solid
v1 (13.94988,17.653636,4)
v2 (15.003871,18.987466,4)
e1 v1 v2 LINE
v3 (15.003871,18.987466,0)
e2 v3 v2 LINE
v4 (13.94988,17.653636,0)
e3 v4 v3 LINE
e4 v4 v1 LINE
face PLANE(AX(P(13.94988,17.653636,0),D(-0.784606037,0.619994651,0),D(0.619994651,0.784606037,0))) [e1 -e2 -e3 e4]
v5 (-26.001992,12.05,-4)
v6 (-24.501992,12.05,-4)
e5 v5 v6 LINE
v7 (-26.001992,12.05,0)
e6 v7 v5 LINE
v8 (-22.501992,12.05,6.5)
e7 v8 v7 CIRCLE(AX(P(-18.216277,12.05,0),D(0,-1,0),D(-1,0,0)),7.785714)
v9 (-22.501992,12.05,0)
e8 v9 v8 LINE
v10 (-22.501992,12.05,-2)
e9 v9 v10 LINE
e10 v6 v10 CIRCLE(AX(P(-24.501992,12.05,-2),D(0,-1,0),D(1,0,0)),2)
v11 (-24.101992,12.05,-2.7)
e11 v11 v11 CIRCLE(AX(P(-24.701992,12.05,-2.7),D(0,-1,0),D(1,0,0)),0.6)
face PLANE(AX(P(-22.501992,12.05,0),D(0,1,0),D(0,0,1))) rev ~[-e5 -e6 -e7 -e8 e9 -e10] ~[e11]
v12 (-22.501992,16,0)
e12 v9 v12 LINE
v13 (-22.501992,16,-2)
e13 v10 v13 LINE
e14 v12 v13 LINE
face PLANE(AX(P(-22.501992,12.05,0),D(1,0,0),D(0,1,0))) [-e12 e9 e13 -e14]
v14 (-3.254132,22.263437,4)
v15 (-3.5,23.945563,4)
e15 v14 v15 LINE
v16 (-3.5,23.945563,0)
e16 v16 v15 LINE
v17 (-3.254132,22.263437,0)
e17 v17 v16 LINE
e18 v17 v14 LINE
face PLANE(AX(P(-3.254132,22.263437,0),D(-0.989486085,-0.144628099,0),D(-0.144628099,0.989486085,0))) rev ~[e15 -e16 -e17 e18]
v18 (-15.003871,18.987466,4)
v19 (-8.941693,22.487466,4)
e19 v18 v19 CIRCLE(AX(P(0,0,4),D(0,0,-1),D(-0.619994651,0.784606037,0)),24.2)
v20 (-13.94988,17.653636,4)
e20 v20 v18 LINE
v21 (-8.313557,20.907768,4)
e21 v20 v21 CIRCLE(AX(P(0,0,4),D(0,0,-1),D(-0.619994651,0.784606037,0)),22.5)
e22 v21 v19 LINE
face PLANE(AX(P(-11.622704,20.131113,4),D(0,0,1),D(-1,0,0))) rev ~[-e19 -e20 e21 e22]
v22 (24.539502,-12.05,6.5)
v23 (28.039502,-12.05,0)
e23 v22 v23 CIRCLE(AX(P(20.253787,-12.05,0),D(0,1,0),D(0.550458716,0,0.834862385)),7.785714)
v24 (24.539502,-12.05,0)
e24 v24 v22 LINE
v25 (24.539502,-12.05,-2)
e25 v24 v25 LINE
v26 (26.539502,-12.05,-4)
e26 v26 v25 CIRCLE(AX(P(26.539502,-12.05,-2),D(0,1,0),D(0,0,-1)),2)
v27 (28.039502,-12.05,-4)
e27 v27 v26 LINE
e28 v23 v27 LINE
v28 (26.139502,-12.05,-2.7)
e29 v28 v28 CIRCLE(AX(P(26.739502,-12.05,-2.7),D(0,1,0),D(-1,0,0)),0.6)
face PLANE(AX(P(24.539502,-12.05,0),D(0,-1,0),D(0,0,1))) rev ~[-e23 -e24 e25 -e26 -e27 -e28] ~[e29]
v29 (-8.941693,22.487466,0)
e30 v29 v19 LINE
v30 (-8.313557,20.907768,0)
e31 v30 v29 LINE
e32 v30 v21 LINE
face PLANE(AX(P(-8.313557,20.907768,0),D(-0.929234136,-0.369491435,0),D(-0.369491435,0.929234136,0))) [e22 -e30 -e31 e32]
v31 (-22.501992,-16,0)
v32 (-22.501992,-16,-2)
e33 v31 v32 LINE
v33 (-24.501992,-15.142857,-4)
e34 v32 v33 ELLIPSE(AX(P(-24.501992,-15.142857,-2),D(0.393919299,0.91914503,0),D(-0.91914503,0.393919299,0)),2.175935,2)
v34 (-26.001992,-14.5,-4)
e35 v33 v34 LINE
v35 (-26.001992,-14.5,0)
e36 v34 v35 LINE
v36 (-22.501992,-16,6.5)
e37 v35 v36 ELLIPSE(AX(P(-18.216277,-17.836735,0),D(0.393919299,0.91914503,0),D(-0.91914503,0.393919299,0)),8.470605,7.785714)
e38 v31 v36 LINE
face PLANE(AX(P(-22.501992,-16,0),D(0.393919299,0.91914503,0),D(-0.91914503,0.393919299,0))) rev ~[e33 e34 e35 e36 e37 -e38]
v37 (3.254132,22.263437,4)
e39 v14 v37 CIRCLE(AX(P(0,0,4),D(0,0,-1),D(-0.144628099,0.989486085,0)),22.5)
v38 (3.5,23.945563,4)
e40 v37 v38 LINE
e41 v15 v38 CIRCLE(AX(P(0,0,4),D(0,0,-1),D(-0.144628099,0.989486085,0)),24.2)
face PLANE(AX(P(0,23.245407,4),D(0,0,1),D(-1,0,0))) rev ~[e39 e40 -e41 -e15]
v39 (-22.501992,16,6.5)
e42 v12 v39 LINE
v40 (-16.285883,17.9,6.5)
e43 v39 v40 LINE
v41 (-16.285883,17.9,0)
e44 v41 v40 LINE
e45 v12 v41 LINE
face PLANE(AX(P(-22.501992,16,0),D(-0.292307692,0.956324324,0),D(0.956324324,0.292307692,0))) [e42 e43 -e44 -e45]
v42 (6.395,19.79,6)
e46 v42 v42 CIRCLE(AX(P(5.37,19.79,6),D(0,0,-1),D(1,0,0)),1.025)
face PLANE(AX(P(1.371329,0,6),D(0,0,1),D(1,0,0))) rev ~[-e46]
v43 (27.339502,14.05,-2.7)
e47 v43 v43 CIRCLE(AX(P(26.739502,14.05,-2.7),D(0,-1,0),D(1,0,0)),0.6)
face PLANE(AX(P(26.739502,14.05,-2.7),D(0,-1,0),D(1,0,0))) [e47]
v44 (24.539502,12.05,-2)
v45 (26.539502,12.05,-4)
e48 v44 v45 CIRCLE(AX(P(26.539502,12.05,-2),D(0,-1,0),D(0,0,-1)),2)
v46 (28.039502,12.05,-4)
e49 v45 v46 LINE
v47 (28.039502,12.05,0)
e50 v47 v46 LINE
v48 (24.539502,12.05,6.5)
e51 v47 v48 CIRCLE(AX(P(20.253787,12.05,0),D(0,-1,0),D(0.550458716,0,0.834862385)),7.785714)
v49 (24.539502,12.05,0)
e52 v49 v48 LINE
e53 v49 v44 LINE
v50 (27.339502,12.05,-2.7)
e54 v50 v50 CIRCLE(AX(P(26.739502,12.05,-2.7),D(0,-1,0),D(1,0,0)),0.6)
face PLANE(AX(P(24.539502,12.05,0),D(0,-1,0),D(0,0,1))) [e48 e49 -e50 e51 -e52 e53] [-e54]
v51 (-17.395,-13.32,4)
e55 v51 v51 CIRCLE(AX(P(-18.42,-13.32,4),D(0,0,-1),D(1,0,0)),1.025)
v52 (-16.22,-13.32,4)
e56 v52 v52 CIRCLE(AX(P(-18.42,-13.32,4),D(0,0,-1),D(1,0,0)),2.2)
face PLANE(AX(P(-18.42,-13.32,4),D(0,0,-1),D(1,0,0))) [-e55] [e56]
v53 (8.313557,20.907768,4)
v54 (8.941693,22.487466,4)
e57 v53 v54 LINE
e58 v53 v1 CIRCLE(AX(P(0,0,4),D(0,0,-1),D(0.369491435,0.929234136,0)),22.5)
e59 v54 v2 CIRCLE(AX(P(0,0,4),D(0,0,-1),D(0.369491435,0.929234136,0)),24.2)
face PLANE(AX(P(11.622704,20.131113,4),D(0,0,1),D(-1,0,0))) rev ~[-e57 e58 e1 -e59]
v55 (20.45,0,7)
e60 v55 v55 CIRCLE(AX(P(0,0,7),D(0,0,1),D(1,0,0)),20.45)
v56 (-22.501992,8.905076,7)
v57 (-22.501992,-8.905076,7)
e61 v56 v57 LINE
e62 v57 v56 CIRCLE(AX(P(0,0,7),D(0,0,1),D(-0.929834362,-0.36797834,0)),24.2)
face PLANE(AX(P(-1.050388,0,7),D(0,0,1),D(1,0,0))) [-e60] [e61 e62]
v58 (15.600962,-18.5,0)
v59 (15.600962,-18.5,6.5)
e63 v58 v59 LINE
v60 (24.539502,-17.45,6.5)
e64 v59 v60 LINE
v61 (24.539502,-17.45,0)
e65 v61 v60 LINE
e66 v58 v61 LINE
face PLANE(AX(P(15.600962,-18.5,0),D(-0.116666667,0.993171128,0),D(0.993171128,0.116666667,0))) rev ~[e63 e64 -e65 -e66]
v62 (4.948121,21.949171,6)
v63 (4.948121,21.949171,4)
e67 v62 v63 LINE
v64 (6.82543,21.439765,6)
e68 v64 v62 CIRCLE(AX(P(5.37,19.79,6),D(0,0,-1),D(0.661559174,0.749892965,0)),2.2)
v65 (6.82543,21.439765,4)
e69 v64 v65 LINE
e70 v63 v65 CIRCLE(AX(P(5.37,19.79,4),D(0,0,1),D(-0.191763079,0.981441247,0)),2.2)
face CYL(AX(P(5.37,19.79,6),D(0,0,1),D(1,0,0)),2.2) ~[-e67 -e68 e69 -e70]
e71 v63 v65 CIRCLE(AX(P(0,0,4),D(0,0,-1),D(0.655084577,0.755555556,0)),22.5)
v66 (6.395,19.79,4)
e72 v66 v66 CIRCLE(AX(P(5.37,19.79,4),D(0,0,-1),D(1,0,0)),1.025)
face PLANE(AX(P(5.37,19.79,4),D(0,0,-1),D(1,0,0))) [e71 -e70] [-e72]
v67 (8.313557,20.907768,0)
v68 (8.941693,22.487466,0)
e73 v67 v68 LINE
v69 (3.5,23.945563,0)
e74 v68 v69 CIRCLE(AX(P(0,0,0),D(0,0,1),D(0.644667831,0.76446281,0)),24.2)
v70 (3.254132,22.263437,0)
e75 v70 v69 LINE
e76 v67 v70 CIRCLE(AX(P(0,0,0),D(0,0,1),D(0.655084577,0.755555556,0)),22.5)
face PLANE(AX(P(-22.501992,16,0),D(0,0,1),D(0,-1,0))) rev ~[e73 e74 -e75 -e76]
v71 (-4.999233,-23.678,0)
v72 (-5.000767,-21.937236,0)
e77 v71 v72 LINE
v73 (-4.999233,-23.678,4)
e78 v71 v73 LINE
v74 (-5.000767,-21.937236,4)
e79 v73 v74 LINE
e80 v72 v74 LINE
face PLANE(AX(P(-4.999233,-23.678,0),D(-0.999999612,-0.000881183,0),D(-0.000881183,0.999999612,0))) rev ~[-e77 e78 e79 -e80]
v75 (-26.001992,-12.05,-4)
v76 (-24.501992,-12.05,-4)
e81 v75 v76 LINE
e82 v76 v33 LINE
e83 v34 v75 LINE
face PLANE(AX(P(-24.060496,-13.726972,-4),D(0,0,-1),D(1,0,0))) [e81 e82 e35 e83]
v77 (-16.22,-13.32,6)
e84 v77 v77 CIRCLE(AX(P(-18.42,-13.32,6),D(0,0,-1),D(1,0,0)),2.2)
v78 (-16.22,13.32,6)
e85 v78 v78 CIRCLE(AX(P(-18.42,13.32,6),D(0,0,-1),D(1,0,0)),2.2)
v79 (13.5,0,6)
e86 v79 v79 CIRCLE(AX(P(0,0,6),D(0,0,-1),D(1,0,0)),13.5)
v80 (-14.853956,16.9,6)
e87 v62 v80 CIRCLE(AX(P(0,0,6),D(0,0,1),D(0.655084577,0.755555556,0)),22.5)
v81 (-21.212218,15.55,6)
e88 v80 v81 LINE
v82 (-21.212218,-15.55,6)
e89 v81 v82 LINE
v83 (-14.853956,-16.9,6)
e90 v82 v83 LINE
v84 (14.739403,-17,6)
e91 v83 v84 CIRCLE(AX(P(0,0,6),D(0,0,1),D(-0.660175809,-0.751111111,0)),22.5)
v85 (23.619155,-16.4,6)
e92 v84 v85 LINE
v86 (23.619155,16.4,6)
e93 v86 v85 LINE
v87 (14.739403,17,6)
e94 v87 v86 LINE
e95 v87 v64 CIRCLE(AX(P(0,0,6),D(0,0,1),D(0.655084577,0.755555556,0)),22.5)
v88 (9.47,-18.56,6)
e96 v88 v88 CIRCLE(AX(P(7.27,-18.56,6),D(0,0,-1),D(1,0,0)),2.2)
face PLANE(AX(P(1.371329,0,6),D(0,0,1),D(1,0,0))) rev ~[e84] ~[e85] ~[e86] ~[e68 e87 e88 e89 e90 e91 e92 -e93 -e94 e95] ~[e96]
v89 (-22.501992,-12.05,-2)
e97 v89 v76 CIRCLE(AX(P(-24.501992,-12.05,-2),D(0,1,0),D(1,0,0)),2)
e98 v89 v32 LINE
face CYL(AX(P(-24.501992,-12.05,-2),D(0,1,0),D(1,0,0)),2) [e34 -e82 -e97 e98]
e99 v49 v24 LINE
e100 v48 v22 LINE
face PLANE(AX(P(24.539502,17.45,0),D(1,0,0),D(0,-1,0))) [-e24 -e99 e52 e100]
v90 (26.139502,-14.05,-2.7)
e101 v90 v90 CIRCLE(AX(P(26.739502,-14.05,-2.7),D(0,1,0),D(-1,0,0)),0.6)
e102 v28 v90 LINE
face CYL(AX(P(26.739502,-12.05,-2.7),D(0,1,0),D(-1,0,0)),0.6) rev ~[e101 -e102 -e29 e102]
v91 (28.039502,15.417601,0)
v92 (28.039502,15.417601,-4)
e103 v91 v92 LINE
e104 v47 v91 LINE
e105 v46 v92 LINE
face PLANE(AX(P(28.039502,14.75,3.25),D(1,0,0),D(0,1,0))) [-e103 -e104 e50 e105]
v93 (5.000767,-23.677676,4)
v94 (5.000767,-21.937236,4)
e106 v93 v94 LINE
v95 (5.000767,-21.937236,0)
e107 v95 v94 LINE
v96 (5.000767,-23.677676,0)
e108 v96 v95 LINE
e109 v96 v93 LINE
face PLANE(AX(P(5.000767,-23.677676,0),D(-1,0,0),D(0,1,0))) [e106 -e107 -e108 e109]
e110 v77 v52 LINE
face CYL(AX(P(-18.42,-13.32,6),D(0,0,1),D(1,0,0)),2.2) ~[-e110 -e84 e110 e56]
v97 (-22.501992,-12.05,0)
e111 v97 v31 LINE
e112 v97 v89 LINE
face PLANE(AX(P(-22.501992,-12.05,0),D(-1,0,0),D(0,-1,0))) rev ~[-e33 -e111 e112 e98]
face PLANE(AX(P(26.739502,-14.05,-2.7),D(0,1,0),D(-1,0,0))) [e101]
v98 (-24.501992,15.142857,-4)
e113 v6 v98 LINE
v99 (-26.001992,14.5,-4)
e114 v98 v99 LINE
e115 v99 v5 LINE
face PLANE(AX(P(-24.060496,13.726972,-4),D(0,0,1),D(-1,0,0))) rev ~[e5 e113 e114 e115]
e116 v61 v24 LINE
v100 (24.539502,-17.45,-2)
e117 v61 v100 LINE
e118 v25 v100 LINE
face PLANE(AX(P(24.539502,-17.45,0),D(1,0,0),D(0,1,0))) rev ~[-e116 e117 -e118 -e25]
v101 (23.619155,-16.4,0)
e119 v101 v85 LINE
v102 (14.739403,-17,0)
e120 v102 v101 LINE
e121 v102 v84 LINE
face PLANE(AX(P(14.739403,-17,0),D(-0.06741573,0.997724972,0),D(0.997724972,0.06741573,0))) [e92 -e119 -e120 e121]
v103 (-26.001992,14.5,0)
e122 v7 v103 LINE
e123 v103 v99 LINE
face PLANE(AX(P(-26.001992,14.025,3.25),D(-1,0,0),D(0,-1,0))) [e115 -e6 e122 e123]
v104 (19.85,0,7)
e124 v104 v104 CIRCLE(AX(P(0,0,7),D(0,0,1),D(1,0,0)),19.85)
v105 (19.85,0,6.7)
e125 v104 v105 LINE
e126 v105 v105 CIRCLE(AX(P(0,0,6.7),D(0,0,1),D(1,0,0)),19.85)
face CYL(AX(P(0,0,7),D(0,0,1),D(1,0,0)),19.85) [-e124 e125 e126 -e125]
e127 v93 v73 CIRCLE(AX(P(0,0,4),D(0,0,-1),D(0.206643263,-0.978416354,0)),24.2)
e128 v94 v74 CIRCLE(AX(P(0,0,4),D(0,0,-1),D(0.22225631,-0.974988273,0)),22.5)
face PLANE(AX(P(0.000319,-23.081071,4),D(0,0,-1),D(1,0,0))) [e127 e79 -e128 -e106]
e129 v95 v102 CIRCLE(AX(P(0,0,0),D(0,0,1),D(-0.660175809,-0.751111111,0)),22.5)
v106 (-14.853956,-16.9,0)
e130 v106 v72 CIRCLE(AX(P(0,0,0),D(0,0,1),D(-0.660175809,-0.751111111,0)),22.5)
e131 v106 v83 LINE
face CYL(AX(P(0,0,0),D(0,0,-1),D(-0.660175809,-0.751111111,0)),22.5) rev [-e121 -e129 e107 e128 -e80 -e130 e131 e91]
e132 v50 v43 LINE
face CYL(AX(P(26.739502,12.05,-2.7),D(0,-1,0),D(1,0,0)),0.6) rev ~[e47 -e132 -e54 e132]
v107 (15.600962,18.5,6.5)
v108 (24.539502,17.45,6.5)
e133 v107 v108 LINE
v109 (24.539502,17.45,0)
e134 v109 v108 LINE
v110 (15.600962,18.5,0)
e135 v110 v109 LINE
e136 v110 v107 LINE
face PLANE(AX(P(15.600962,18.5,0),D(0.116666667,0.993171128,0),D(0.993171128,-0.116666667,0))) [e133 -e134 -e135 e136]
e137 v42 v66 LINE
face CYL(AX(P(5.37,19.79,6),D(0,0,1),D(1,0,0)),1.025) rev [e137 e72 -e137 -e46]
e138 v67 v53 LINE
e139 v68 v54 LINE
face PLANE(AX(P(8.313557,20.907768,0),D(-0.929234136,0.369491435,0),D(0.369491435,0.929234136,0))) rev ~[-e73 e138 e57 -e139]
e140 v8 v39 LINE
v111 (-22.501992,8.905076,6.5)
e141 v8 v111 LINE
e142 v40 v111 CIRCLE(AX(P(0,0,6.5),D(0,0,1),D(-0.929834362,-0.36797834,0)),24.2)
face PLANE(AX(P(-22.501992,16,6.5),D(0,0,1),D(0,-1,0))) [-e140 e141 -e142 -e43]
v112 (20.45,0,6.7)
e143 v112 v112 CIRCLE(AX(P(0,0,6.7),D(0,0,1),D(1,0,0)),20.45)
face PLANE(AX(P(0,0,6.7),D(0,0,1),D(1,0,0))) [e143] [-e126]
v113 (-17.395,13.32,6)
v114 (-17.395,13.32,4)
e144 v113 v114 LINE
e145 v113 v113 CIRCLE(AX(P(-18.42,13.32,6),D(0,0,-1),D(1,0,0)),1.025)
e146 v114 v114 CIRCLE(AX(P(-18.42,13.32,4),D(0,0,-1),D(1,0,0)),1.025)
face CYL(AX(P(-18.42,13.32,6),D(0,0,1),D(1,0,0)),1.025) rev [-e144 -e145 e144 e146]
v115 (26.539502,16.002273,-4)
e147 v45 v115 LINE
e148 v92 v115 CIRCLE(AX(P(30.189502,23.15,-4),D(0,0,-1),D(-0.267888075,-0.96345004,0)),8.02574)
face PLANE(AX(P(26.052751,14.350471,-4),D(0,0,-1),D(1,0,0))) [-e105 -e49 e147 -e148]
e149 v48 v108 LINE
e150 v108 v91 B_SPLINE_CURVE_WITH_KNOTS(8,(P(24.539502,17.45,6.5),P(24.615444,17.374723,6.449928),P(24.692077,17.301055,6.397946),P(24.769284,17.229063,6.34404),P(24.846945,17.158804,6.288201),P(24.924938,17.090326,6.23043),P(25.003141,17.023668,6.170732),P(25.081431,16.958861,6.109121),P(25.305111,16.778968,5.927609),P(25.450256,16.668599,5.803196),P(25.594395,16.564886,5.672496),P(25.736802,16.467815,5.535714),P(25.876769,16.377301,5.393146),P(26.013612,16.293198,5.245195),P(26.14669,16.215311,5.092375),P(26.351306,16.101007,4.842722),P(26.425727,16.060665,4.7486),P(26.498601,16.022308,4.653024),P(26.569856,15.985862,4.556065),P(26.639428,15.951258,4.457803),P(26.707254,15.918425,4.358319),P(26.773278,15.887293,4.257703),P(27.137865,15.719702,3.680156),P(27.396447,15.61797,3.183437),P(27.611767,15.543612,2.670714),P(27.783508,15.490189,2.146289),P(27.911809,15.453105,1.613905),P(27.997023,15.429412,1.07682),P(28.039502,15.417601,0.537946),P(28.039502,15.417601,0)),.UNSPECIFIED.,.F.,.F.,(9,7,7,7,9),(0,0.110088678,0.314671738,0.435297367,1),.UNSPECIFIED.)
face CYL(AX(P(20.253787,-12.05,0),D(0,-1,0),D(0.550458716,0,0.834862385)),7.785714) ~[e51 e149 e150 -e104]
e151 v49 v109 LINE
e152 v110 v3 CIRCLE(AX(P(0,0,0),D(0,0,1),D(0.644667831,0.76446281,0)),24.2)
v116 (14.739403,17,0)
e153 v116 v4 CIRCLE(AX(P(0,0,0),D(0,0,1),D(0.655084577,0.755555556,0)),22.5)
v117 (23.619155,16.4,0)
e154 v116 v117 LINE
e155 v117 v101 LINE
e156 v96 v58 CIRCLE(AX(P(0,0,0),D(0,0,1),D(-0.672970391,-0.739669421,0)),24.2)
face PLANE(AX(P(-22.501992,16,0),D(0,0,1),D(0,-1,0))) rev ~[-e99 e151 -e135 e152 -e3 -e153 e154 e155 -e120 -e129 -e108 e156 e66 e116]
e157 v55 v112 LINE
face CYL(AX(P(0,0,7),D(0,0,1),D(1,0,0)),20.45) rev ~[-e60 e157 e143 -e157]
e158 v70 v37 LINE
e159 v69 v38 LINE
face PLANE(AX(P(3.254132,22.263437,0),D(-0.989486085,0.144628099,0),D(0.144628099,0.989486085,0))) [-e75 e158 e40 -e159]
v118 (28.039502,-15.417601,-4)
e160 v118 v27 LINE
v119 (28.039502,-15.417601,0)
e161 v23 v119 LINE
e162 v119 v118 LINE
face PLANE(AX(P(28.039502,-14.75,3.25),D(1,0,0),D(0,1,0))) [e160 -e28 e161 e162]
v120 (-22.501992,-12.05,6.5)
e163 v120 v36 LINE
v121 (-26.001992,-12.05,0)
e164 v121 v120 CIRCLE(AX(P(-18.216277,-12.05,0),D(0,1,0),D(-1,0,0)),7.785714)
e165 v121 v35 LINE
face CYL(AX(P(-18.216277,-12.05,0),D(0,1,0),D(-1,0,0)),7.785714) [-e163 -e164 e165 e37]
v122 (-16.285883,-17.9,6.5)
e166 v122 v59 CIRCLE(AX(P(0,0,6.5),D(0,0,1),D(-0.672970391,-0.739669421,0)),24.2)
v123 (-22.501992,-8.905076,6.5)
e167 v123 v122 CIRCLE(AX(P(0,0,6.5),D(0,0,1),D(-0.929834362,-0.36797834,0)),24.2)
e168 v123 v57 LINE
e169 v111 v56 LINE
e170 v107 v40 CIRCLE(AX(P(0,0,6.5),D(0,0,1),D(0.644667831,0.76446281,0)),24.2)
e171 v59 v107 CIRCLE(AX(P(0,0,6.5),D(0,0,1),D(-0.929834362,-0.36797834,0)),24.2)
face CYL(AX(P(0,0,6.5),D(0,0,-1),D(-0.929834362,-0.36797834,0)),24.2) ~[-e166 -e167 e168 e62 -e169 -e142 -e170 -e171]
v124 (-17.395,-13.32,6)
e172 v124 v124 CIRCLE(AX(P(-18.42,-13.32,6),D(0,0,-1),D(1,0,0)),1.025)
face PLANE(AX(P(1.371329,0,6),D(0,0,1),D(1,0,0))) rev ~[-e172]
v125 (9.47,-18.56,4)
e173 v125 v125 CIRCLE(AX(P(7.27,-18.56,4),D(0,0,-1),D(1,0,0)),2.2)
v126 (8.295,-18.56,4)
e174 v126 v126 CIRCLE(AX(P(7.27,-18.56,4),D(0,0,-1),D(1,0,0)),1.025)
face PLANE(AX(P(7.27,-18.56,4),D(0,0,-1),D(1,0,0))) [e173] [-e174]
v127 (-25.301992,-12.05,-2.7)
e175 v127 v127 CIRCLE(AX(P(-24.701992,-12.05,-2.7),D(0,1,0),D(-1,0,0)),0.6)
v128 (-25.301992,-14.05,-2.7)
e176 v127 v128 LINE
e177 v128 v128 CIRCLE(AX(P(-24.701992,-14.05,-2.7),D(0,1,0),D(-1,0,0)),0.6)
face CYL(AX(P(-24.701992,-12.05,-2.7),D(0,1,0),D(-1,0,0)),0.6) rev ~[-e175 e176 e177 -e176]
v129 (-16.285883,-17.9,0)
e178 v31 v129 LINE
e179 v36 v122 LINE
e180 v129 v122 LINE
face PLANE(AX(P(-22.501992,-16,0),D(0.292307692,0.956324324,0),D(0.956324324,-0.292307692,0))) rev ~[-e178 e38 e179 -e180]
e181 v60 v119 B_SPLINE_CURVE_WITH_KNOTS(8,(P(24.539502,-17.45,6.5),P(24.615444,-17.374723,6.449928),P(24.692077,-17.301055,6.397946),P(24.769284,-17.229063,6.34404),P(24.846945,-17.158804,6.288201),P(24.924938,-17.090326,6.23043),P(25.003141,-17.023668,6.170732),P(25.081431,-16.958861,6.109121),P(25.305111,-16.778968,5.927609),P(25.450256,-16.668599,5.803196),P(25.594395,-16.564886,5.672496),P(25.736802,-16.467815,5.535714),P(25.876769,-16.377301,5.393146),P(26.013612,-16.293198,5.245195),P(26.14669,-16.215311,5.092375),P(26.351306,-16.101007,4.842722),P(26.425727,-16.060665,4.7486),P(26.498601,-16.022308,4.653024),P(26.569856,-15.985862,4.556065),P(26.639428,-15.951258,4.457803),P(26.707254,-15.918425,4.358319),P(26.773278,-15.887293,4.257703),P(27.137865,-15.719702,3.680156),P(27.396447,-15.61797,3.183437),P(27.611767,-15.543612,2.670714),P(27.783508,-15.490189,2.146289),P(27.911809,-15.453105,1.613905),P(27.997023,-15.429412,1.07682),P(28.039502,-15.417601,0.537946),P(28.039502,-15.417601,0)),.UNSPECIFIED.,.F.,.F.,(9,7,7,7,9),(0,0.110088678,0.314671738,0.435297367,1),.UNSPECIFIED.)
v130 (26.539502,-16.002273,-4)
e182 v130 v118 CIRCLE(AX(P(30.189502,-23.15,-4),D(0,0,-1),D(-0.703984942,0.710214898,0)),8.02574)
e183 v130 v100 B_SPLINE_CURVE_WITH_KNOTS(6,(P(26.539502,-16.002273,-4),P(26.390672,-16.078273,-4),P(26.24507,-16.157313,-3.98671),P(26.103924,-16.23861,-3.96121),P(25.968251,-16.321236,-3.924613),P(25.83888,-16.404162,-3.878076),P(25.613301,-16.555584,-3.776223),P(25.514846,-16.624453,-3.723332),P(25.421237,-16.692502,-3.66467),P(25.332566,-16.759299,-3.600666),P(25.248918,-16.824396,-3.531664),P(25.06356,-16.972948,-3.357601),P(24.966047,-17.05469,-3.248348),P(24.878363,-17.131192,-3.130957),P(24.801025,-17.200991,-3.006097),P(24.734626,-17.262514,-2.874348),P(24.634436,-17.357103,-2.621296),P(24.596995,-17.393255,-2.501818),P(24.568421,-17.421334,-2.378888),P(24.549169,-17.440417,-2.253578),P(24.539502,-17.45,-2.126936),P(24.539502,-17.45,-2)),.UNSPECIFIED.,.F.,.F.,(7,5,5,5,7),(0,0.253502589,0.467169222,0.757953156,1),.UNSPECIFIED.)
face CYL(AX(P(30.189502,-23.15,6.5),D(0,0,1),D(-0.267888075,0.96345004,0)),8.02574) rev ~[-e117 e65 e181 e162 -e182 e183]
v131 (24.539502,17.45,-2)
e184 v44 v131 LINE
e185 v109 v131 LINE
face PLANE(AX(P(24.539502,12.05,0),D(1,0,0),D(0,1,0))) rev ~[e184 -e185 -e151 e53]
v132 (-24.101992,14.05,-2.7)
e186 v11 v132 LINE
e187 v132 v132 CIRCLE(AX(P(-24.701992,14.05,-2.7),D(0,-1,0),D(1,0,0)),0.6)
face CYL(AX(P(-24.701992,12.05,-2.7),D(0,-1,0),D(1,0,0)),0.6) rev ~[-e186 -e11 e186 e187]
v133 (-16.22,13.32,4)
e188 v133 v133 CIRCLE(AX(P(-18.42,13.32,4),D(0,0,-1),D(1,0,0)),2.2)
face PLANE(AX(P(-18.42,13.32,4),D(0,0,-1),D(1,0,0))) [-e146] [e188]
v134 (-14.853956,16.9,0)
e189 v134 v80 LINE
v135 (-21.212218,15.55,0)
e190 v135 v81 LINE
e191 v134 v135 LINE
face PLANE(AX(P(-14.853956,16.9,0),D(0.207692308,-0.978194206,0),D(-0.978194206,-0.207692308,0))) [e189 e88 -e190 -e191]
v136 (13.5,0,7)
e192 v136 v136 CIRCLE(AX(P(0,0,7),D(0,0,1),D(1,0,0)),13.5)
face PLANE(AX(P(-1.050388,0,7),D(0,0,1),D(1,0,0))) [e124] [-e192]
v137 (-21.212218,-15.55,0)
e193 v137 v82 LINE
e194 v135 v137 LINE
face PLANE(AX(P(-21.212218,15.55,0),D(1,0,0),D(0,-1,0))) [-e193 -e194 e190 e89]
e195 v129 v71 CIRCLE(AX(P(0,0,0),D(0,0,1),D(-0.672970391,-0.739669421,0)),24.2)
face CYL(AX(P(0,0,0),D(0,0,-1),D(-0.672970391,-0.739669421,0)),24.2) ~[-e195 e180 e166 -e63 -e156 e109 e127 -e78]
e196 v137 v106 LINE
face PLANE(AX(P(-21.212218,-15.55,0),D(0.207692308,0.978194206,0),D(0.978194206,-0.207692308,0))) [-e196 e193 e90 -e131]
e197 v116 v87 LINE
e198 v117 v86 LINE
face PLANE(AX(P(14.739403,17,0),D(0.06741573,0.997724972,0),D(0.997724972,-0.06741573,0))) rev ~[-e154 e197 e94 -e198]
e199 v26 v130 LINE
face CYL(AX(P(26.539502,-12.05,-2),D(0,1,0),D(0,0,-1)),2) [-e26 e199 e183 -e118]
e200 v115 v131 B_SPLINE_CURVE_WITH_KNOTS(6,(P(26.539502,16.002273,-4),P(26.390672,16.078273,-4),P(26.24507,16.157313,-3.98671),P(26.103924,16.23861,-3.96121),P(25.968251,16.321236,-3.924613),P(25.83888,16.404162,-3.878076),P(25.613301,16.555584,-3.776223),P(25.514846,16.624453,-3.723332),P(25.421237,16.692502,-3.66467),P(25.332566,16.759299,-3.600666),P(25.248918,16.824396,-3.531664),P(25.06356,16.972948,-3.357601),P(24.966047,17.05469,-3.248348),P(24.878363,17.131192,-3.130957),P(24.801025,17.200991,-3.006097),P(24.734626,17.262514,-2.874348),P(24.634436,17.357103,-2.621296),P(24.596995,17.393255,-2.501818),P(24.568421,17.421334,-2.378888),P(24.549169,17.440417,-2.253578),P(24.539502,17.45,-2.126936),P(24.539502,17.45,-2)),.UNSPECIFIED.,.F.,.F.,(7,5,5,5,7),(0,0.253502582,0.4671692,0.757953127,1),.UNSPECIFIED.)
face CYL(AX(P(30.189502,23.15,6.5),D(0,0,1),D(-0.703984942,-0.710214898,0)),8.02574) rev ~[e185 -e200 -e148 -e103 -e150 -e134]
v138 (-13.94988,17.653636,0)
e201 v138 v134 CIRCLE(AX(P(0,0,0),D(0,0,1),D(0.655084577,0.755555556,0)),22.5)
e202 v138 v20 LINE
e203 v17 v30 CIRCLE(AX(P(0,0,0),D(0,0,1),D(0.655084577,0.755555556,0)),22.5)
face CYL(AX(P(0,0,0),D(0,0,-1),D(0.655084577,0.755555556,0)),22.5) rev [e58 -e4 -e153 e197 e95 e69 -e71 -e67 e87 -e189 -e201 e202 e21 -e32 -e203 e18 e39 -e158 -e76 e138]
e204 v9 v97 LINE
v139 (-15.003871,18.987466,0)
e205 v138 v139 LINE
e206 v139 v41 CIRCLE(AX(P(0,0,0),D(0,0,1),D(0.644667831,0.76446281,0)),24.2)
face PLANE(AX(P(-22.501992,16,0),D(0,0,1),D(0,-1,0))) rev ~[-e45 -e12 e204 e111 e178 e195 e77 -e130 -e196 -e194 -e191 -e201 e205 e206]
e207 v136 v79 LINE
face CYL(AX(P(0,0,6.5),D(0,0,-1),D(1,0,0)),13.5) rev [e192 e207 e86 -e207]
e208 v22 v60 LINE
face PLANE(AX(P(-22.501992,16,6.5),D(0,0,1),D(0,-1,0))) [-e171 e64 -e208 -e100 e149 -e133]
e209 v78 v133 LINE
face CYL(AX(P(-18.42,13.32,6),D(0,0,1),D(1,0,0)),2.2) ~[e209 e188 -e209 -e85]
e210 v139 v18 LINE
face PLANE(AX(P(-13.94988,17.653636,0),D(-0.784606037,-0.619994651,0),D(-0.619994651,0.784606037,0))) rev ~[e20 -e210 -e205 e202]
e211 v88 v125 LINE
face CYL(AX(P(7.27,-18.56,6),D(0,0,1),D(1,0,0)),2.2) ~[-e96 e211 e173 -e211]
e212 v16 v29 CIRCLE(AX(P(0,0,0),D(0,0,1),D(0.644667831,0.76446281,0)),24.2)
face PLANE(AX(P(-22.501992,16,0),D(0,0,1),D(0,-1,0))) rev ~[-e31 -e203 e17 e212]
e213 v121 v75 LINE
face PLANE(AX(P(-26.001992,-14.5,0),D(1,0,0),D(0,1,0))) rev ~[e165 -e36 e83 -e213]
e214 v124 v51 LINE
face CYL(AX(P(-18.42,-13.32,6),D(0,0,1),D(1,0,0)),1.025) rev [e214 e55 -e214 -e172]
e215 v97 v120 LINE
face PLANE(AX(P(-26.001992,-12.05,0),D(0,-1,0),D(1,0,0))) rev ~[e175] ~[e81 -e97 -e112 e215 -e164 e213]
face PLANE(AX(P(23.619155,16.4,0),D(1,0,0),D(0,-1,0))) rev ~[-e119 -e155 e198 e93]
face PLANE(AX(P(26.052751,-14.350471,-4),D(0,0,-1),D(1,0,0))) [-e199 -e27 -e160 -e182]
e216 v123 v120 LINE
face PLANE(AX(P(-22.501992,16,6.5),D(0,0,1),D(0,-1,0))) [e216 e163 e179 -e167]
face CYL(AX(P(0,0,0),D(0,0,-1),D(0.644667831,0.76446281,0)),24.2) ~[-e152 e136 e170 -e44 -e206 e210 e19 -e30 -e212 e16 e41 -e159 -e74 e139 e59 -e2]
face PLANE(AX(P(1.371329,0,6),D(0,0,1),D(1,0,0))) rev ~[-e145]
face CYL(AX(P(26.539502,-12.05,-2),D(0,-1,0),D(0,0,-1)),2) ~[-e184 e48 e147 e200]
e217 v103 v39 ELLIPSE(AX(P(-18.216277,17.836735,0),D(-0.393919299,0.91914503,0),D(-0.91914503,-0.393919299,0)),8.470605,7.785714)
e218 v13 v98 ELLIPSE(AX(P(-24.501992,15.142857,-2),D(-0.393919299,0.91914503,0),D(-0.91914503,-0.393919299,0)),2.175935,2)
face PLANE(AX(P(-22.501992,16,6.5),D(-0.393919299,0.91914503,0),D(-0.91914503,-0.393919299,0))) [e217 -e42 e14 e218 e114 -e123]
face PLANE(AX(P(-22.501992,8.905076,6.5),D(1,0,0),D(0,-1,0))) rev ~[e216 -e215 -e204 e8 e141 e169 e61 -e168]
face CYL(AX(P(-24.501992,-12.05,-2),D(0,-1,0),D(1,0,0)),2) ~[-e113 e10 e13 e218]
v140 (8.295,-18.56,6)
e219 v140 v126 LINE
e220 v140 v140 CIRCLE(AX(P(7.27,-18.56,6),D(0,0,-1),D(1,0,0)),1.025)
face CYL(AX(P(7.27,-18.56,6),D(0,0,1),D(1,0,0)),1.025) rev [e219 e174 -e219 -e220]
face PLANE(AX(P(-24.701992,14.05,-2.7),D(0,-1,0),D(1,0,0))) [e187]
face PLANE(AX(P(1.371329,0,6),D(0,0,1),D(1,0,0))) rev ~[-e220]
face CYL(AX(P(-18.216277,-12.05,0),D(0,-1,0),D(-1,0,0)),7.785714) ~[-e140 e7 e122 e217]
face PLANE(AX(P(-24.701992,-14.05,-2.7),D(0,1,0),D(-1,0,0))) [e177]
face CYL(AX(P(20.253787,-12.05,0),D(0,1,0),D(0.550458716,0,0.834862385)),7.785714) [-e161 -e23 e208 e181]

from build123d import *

# Parameters (mm, degrees)
PAD_DEPTH            = 6.5
POCKET_DEPTH         = 6
SKETCH002_R          = 13.5
POCKET001_DEPTH      = 1
SKETCH003_W          = 5.4
SKETCH003_H          = 6.5
PAD001_DEPTH         = 3.5
POCKET002_DEPTH      = 10
SKETCH010_W          = 3.95
SKETCH010_H          = 6.5
PAD002_DEPTH         = 3.5
POCKET005_DEPTH      = 10
SKETCH015_R          = 2.2
SKETCH015_R_2        = 1.025
PAD003_DEPTH         = 2
POCKET009_DEPTH      = 4
POCKET010_DEPTH      = 4
PAD004_DEPTH         = 4
POCKET013_DEPTH      = 12.151
POCKET013_DEPTH_BACK = 36.251
SKETCH022_R          = 0.6
POCKET014_DEPTH      = 2
SKETCH023_R          = 0.6
POCKET015_DEPTH      = 2
SKETCH024_R          = 13.5
PAD005_DEPTH         = 0.5
SKETCH025_R          = 20.45
SKETCH025_R_2        = 19.85
POCKET016_DEPTH      = 0.3


with BuildPart() as part:
    # Sketch → Pad (new body)
    with BuildSketch(Plane.XY):
        with BuildLine():
            Line((-22.5019915649, 16), (-22.5019915649, -16))
            Line((-22.5019915649, -16), (-16.2858834578, -17.9))
            ThreePointArc((-16.2858834578, -17.9), (-0.4552796053, -24.1957169863), (15.6009615088, -18.5))
            Line((15.6009615088, -18.5), (24.5395016581, -17.45))
            Line((24.5395016581, 17.45), (24.5395016581, -17.45))
            Line((15.6009615088, 18.5), (24.5395016581, 17.45))
            ThreePointArc((15.6009615088, 18.5), (-0.4552796053, 24.1957169863), (-16.2858834578, 17.9))
            Line((-22.5019915649, 16), (-16.2858834578, 17.9))
        make_face()
    extrude(amount=PAD_DEPTH)

    # Sketch001 → Pocket (cut)
    with BuildSketch(Plane.XY):
        with BuildLine():
            Line((-14.8539557021, 16.9), (-21.2122180433, 15.55))
            Line((-21.2122180433, 15.55), (-21.2122180433, -15.55))
            Line((-21.2122180433, -15.55), (-14.8539557021, -16.9))
            ThreePointArc((-14.8539557021, -16.9), (-0.0760301383, -22.4998715423), (14.739402973, -17))
            Line((14.739402973, -17), (23.6191552218, -16.4))
            Line((23.6191552218, 16.4), (23.6191552218, -16.4))
            Line((14.739402973, 17), (23.6191552218, 16.4))
            ThreePointArc((14.739402973, 17), (-0.0760301383, 22.4998715423), (-14.8539557021, 16.9))
        make_face()
    extrude(amount=POCKET_DEPTH, mode=Mode.SUBTRACT)

    # Sketch002 (on Face19 of Pocket) → Pocket001 (cut)
    with BuildSketch(Plane(origin=(0, 0, 6), x_dir=(1, 0, 0), z_dir=(0, 0, -1))):
        Circle(SKETCH002_R)
    extrude(amount=-POCKET001_DEPTH, mode=Mode.SUBTRACT)

    # Sketch003 (on Face7 of Pad) → Pad001 (join)
    with BuildSketch(Plane.YZ.offset(24.5395016581)):
        with Locations((-14.75, 3.25)):
            Rectangle(SKETCH003_W, SKETCH003_H)
        with Locations((14.75, 3.25)):
            Rectangle(SKETCH003_W, SKETCH003_H)
    extrude(amount=PAD001_DEPTH)

    # Sketch006 (on Face22 of Pad001) → Pocket002 (cut)
    with BuildSketch(Plane.XY.offset(6.5)):
        with BuildLine():
            ThreePointArc((24.5395016581, 17.45), (26.1592830786, 16.2095505764), (28.0395016581, 15.4176006311))
            Line((28.0395016581, 17.45), (28.0395016581, 15.4176006311))
            Line((28.0395016581, 17.45), (24.5395016581, 17.45))
        make_face()
        with BuildLine():
            ThreePointArc((28.0395016581, -15.4176006311), (26.1592830786, -16.2095505765), (24.5395016581, -17.4500000001))
            Line((28.0395016581, -17.45), (24.5395016581, -17.45))
            Line((28.0395016581, -15.4176006311), (28.0395016581, -17.45))
        make_face()
    extrude(amount=-POCKET002_DEPTH, mode=Mode.SUBTRACT)

    # Sketch010 (on Face3 of Pad) → Pad002 (join)
    with BuildSketch(Plane(origin=(-22.5019915649, 0, 0), x_dir=(0, -1, 0), z_dir=(-1, 0, 0))):
        with Locations((-14.025, 3.25)):
            Rectangle(SKETCH010_W, SKETCH010_H)
        with Locations((14.025, 3.25)):
            Rectangle(SKETCH010_W, SKETCH010_H)
    extrude(amount=PAD002_DEPTH)

    # Sketch011 (on Face28 of Pad002) → Pocket005 (cut)
    with BuildSketch(Plane.XY.offset(6.5)):
        Polygon((-26.0019915649, 16), (-22.5019915649, 16), (-26.0019915649, 14.5), align=None)
        Polygon((-22.5019915649, -16), (-26.0019915649, -14.5), (-26.0019915649, -16), align=None)
    extrude(amount=-POCKET005_DEPTH, mode=Mode.SUBTRACT)

    # Sketch015 (on Face19 of Pocket) → Pad003 (join)
    with BuildSketch(Plane(origin=(0, 0, 6), x_dir=(1, 0, 0), z_dir=(0, 0, -1))):
        with Locations((-18.42, 13.32)):
            Circle(SKETCH015_R)
        with Locations((-18.42, 13.32)):
            Circle(SKETCH015_R_2, mode=Mode.SUBTRACT)
        with Locations((7.27, 18.56)):
            Circle(SKETCH015_R)
        with Locations((7.27, 18.56)):
            Circle(SKETCH015_R_2, mode=Mode.SUBTRACT)
        with Locations((5.37, -19.79)):
            Circle(SKETCH015_R)
        with Locations((5.37, -19.79)):
            Circle(SKETCH015_R_2, mode=Mode.SUBTRACT)
        with Locations((-18.42, -13.32)):
            Circle(SKETCH015_R)
        with Locations((-18.42, -13.32)):
            Circle(SKETCH015_R_2, mode=Mode.SUBTRACT)
    extrude(amount=PAD003_DEPTH)

    # Sketch016 (on Face4 of Pocket) → Pocket009 (cut)
    with BuildSketch(Plane(origin=(0, 0, 0), x_dir=(1, 0, 0), z_dir=(0, 0, -1))):
        with BuildLine():
            Line((-4.9992330338, 23.6779996848), (-5.0007669662, 21.9372361465))
            ThreePointArc((5.0007669662, 21.9372361465), (0, 22.5), (-5.0007669662, 21.9372361465))
            Line((5.0007669662, 23.6776757675), (5.0007669662, 21.9372361465))
            ThreePointArc((5.0007669662, 23.6776757675), (0.00078388, 24.1999999873), (-4.9992330338, 23.6779996848))
        make_face()
    extrude(amount=-POCKET009_DEPTH, mode=Mode.SUBTRACT)

    # Sketch017 (on Face4 of Pocket) → Pocket010 (cut)
    with BuildSketch(Plane(origin=(0, 0, 0), x_dir=(1, 0, 0), z_dir=(0, 0, -1))):
        with BuildLine():
            ThreePointArc((-3.2541322314, -22.2634369184), (0, -22.5), (3.2541322314, -22.2634369184))
            Line((3.2541322314, -22.2634369184), (3.5, -23.9455632634))
            ThreePointArc((-3.5, -23.9455632634), (0, -24.2), (3.5, -23.9455632634))
            Line((-3.2541322314, -22.2634369184), (-3.5, -23.9455632634))
        make_face()
        with BuildLine():
            ThreePointArc((-13.9498796389, -17.6536358312), (-11.25, -19.4855715851), (-8.3135572795, -20.9077680626))
            Line((-8.3135572795, -20.9077680626), (-8.9416927184, -22.487466094))
            ThreePointArc((-15.0038705449, -18.987466094), (-12.1, -20.9578147716), (-8.9416927184, -22.487466094))
            Line((-13.9498796389, -17.6536358312), (-15.0038705449, -18.987466094))
        make_face()
        with BuildLine():
            ThreePointArc((8.3135572795, -20.9077680626), (11.25, -19.4855715851), (13.9498796389, -17.6536358312))
            Line((13.9498796389, -17.6536358312), (15.0038705449, -18.987466094))
            ThreePointArc((8.9416927184, -22.487466094), (12.1, -20.9578147716), (15.0038705449, -18.987466094))
            Line((8.3135572795, -20.9077680626), (8.9416927184, -22.487466094))
        make_face()
    extrude(amount=-POCKET010_DEPTH, mode=Mode.SUBTRACT)

    # Sketch018 (on Face8 of Pocket005) → Pad004 (join)
    with BuildSketch(Plane(origin=(0, 0, 0), x_dir=(1, 0, 0), z_dir=(0, 0, -1))):
        Polygon((-26.0019915649, 14.5), (-26.0019915649, 12.05), (-22.5019915649, 12.05), (-22.5019915649, 16), align=None)
        Polygon((-26.0019915649, -12.05), (-22.5019915649, -12.05), (-22.5019915649, -16), (-26.0019915649, -14.5), align=None)
        with BuildLine():
            Line((24.5395016581, 17.4500000001), (24.5395016581, 12.05))
            Line((28.0395016581, 12.05), (24.5395016581, 12.05))
            Line((28.0395016581, 15.4176006311), (28.0395016581, 12.05))
            ThreePointArc((24.5395016581, 17.4500000001), (26.1592830786, 16.2095505765), (28.0395016581, 15.4176006311))
        make_face()
        with BuildLine():
            Line((24.5395016581, -12.05), (24.5395016581, -17.45))
            ThreePointArc((28.0395016581, -15.4176006311), (26.1592830786, -16.2095505764), (24.5395016581, -17.45))
            Line((28.0395016581, -12.05), (28.0395016581, -15.4176006311))
            Line((24.5395016581, -12.05), (28.0395016581, -12.05))
        make_face()
    extrude(amount=PAD004_DEPTH)

    # Sketch021 (on Face50 of Pad004) → Pocket013 (cut, two sides)
    with BuildSketch(Plane(origin=(0, -12.05, 0), x_dir=(-1, 0, 0), z_dir=(0, 1, 0))) as pocket013_sk:
        with BuildLine():
            Line((-24.5395016581, -4), (-24.5395016581, -2))
            ThreePointArc((-26.5395016581, -4), (-25.1252880957, -3.4142135624), (-24.5395016581, -2))
            Line((-24.5395016581, -4), (-26.5395016581, -4))
        make_face()
        with BuildLine():
            Line((22.5019915649, -4), (22.5019915649, -2))
            ThreePointArc((22.5019915649, -2), (23.0877780026, -3.4142135624), (24.5019915649, -4))
            Line((22.5019915649, -4), (24.5019915649, -4))
        make_face()
        with BuildLine():
            Line((-28.0395016581, 0), (-28.0395016581, 6.5))
            Line((-28.0395016581, 6.5), (-24.5395016581, 6.5))
            ThreePointArc((-24.5395016581, 6.5), (-27.1088837932, 3.6912057651), (-28.0395016581, 0))
        make_face()
        with BuildLine():
            Line((26.0019915649, 6.5), (26.0019915649, 0))
            ThreePointArc((26.0019915649, 0), (25.0713737, 3.6912057651), (22.5019915649, 6.5))
            Line((26.0019915649, 6.5), (22.5019915649, 6.5))
        make_face()
    extrude(amount=-POCKET013_DEPTH, mode=Mode.SUBTRACT)
    extrude(pocket013_sk.sketch, amount=POCKET013_DEPTH_BACK, mode=Mode.SUBTRACT)

    # Sketch022 (on Face66 of Pocket013) → Pocket014 (cut)
    with BuildSketch(Plane.XZ.offset(-12.05)):
        with Locations((-24.7019915649, -2.7)):
            Circle(SKETCH022_R)
        with Locations((26.7395016581, -2.7)):
            Circle(SKETCH022_R)
    extrude(amount=-POCKET014_DEPTH, mode=Mode.SUBTRACT)

    # Sketch023 (on Face49 of Pocket014) → Pocket015 (cut)
    with BuildSketch(Plane(origin=(0, -12.05, 0), x_dir=(-1, 0, 0), z_dir=(0, 1, 0))):
        with Locations((-26.7395016581, -2.7)):
            Circle(SKETCH023_R)
        with Locations((24.7019915649, -2.7)):
            Circle(SKETCH023_R)
    extrude(amount=-POCKET015_DEPTH, mode=Mode.SUBTRACT)

    # Sketch024 (on Face16 of Pocket015) → Pad005 (join)
    with BuildSketch(Plane.XY.offset(6.5)):
        with BuildLine():
            ThreePointArc((-22.5019915649, -8.9050758341), (24.2, 0), (-22.5019915649, 8.9050758341))
            Line((-22.5019915649, 8.9050758341), (-22.5019915649, -8.9050758341))
        make_face()
        Circle(SKETCH024_R, mode=Mode.SUBTRACT)
    extrude(amount=PAD005_DEPTH)

    # Sketch025 (on Face42 of Pad005) → Pocket016 (cut)
    with BuildSketch(Plane.XY.offset(7)):
        Circle(SKETCH025_R)
        Circle(SKETCH025_R_2, mode=Mode.SUBTRACT)
    extrude(amount=-POCKET016_DEPTH, mode=Mode.SUBTRACT)


solid = part.part
